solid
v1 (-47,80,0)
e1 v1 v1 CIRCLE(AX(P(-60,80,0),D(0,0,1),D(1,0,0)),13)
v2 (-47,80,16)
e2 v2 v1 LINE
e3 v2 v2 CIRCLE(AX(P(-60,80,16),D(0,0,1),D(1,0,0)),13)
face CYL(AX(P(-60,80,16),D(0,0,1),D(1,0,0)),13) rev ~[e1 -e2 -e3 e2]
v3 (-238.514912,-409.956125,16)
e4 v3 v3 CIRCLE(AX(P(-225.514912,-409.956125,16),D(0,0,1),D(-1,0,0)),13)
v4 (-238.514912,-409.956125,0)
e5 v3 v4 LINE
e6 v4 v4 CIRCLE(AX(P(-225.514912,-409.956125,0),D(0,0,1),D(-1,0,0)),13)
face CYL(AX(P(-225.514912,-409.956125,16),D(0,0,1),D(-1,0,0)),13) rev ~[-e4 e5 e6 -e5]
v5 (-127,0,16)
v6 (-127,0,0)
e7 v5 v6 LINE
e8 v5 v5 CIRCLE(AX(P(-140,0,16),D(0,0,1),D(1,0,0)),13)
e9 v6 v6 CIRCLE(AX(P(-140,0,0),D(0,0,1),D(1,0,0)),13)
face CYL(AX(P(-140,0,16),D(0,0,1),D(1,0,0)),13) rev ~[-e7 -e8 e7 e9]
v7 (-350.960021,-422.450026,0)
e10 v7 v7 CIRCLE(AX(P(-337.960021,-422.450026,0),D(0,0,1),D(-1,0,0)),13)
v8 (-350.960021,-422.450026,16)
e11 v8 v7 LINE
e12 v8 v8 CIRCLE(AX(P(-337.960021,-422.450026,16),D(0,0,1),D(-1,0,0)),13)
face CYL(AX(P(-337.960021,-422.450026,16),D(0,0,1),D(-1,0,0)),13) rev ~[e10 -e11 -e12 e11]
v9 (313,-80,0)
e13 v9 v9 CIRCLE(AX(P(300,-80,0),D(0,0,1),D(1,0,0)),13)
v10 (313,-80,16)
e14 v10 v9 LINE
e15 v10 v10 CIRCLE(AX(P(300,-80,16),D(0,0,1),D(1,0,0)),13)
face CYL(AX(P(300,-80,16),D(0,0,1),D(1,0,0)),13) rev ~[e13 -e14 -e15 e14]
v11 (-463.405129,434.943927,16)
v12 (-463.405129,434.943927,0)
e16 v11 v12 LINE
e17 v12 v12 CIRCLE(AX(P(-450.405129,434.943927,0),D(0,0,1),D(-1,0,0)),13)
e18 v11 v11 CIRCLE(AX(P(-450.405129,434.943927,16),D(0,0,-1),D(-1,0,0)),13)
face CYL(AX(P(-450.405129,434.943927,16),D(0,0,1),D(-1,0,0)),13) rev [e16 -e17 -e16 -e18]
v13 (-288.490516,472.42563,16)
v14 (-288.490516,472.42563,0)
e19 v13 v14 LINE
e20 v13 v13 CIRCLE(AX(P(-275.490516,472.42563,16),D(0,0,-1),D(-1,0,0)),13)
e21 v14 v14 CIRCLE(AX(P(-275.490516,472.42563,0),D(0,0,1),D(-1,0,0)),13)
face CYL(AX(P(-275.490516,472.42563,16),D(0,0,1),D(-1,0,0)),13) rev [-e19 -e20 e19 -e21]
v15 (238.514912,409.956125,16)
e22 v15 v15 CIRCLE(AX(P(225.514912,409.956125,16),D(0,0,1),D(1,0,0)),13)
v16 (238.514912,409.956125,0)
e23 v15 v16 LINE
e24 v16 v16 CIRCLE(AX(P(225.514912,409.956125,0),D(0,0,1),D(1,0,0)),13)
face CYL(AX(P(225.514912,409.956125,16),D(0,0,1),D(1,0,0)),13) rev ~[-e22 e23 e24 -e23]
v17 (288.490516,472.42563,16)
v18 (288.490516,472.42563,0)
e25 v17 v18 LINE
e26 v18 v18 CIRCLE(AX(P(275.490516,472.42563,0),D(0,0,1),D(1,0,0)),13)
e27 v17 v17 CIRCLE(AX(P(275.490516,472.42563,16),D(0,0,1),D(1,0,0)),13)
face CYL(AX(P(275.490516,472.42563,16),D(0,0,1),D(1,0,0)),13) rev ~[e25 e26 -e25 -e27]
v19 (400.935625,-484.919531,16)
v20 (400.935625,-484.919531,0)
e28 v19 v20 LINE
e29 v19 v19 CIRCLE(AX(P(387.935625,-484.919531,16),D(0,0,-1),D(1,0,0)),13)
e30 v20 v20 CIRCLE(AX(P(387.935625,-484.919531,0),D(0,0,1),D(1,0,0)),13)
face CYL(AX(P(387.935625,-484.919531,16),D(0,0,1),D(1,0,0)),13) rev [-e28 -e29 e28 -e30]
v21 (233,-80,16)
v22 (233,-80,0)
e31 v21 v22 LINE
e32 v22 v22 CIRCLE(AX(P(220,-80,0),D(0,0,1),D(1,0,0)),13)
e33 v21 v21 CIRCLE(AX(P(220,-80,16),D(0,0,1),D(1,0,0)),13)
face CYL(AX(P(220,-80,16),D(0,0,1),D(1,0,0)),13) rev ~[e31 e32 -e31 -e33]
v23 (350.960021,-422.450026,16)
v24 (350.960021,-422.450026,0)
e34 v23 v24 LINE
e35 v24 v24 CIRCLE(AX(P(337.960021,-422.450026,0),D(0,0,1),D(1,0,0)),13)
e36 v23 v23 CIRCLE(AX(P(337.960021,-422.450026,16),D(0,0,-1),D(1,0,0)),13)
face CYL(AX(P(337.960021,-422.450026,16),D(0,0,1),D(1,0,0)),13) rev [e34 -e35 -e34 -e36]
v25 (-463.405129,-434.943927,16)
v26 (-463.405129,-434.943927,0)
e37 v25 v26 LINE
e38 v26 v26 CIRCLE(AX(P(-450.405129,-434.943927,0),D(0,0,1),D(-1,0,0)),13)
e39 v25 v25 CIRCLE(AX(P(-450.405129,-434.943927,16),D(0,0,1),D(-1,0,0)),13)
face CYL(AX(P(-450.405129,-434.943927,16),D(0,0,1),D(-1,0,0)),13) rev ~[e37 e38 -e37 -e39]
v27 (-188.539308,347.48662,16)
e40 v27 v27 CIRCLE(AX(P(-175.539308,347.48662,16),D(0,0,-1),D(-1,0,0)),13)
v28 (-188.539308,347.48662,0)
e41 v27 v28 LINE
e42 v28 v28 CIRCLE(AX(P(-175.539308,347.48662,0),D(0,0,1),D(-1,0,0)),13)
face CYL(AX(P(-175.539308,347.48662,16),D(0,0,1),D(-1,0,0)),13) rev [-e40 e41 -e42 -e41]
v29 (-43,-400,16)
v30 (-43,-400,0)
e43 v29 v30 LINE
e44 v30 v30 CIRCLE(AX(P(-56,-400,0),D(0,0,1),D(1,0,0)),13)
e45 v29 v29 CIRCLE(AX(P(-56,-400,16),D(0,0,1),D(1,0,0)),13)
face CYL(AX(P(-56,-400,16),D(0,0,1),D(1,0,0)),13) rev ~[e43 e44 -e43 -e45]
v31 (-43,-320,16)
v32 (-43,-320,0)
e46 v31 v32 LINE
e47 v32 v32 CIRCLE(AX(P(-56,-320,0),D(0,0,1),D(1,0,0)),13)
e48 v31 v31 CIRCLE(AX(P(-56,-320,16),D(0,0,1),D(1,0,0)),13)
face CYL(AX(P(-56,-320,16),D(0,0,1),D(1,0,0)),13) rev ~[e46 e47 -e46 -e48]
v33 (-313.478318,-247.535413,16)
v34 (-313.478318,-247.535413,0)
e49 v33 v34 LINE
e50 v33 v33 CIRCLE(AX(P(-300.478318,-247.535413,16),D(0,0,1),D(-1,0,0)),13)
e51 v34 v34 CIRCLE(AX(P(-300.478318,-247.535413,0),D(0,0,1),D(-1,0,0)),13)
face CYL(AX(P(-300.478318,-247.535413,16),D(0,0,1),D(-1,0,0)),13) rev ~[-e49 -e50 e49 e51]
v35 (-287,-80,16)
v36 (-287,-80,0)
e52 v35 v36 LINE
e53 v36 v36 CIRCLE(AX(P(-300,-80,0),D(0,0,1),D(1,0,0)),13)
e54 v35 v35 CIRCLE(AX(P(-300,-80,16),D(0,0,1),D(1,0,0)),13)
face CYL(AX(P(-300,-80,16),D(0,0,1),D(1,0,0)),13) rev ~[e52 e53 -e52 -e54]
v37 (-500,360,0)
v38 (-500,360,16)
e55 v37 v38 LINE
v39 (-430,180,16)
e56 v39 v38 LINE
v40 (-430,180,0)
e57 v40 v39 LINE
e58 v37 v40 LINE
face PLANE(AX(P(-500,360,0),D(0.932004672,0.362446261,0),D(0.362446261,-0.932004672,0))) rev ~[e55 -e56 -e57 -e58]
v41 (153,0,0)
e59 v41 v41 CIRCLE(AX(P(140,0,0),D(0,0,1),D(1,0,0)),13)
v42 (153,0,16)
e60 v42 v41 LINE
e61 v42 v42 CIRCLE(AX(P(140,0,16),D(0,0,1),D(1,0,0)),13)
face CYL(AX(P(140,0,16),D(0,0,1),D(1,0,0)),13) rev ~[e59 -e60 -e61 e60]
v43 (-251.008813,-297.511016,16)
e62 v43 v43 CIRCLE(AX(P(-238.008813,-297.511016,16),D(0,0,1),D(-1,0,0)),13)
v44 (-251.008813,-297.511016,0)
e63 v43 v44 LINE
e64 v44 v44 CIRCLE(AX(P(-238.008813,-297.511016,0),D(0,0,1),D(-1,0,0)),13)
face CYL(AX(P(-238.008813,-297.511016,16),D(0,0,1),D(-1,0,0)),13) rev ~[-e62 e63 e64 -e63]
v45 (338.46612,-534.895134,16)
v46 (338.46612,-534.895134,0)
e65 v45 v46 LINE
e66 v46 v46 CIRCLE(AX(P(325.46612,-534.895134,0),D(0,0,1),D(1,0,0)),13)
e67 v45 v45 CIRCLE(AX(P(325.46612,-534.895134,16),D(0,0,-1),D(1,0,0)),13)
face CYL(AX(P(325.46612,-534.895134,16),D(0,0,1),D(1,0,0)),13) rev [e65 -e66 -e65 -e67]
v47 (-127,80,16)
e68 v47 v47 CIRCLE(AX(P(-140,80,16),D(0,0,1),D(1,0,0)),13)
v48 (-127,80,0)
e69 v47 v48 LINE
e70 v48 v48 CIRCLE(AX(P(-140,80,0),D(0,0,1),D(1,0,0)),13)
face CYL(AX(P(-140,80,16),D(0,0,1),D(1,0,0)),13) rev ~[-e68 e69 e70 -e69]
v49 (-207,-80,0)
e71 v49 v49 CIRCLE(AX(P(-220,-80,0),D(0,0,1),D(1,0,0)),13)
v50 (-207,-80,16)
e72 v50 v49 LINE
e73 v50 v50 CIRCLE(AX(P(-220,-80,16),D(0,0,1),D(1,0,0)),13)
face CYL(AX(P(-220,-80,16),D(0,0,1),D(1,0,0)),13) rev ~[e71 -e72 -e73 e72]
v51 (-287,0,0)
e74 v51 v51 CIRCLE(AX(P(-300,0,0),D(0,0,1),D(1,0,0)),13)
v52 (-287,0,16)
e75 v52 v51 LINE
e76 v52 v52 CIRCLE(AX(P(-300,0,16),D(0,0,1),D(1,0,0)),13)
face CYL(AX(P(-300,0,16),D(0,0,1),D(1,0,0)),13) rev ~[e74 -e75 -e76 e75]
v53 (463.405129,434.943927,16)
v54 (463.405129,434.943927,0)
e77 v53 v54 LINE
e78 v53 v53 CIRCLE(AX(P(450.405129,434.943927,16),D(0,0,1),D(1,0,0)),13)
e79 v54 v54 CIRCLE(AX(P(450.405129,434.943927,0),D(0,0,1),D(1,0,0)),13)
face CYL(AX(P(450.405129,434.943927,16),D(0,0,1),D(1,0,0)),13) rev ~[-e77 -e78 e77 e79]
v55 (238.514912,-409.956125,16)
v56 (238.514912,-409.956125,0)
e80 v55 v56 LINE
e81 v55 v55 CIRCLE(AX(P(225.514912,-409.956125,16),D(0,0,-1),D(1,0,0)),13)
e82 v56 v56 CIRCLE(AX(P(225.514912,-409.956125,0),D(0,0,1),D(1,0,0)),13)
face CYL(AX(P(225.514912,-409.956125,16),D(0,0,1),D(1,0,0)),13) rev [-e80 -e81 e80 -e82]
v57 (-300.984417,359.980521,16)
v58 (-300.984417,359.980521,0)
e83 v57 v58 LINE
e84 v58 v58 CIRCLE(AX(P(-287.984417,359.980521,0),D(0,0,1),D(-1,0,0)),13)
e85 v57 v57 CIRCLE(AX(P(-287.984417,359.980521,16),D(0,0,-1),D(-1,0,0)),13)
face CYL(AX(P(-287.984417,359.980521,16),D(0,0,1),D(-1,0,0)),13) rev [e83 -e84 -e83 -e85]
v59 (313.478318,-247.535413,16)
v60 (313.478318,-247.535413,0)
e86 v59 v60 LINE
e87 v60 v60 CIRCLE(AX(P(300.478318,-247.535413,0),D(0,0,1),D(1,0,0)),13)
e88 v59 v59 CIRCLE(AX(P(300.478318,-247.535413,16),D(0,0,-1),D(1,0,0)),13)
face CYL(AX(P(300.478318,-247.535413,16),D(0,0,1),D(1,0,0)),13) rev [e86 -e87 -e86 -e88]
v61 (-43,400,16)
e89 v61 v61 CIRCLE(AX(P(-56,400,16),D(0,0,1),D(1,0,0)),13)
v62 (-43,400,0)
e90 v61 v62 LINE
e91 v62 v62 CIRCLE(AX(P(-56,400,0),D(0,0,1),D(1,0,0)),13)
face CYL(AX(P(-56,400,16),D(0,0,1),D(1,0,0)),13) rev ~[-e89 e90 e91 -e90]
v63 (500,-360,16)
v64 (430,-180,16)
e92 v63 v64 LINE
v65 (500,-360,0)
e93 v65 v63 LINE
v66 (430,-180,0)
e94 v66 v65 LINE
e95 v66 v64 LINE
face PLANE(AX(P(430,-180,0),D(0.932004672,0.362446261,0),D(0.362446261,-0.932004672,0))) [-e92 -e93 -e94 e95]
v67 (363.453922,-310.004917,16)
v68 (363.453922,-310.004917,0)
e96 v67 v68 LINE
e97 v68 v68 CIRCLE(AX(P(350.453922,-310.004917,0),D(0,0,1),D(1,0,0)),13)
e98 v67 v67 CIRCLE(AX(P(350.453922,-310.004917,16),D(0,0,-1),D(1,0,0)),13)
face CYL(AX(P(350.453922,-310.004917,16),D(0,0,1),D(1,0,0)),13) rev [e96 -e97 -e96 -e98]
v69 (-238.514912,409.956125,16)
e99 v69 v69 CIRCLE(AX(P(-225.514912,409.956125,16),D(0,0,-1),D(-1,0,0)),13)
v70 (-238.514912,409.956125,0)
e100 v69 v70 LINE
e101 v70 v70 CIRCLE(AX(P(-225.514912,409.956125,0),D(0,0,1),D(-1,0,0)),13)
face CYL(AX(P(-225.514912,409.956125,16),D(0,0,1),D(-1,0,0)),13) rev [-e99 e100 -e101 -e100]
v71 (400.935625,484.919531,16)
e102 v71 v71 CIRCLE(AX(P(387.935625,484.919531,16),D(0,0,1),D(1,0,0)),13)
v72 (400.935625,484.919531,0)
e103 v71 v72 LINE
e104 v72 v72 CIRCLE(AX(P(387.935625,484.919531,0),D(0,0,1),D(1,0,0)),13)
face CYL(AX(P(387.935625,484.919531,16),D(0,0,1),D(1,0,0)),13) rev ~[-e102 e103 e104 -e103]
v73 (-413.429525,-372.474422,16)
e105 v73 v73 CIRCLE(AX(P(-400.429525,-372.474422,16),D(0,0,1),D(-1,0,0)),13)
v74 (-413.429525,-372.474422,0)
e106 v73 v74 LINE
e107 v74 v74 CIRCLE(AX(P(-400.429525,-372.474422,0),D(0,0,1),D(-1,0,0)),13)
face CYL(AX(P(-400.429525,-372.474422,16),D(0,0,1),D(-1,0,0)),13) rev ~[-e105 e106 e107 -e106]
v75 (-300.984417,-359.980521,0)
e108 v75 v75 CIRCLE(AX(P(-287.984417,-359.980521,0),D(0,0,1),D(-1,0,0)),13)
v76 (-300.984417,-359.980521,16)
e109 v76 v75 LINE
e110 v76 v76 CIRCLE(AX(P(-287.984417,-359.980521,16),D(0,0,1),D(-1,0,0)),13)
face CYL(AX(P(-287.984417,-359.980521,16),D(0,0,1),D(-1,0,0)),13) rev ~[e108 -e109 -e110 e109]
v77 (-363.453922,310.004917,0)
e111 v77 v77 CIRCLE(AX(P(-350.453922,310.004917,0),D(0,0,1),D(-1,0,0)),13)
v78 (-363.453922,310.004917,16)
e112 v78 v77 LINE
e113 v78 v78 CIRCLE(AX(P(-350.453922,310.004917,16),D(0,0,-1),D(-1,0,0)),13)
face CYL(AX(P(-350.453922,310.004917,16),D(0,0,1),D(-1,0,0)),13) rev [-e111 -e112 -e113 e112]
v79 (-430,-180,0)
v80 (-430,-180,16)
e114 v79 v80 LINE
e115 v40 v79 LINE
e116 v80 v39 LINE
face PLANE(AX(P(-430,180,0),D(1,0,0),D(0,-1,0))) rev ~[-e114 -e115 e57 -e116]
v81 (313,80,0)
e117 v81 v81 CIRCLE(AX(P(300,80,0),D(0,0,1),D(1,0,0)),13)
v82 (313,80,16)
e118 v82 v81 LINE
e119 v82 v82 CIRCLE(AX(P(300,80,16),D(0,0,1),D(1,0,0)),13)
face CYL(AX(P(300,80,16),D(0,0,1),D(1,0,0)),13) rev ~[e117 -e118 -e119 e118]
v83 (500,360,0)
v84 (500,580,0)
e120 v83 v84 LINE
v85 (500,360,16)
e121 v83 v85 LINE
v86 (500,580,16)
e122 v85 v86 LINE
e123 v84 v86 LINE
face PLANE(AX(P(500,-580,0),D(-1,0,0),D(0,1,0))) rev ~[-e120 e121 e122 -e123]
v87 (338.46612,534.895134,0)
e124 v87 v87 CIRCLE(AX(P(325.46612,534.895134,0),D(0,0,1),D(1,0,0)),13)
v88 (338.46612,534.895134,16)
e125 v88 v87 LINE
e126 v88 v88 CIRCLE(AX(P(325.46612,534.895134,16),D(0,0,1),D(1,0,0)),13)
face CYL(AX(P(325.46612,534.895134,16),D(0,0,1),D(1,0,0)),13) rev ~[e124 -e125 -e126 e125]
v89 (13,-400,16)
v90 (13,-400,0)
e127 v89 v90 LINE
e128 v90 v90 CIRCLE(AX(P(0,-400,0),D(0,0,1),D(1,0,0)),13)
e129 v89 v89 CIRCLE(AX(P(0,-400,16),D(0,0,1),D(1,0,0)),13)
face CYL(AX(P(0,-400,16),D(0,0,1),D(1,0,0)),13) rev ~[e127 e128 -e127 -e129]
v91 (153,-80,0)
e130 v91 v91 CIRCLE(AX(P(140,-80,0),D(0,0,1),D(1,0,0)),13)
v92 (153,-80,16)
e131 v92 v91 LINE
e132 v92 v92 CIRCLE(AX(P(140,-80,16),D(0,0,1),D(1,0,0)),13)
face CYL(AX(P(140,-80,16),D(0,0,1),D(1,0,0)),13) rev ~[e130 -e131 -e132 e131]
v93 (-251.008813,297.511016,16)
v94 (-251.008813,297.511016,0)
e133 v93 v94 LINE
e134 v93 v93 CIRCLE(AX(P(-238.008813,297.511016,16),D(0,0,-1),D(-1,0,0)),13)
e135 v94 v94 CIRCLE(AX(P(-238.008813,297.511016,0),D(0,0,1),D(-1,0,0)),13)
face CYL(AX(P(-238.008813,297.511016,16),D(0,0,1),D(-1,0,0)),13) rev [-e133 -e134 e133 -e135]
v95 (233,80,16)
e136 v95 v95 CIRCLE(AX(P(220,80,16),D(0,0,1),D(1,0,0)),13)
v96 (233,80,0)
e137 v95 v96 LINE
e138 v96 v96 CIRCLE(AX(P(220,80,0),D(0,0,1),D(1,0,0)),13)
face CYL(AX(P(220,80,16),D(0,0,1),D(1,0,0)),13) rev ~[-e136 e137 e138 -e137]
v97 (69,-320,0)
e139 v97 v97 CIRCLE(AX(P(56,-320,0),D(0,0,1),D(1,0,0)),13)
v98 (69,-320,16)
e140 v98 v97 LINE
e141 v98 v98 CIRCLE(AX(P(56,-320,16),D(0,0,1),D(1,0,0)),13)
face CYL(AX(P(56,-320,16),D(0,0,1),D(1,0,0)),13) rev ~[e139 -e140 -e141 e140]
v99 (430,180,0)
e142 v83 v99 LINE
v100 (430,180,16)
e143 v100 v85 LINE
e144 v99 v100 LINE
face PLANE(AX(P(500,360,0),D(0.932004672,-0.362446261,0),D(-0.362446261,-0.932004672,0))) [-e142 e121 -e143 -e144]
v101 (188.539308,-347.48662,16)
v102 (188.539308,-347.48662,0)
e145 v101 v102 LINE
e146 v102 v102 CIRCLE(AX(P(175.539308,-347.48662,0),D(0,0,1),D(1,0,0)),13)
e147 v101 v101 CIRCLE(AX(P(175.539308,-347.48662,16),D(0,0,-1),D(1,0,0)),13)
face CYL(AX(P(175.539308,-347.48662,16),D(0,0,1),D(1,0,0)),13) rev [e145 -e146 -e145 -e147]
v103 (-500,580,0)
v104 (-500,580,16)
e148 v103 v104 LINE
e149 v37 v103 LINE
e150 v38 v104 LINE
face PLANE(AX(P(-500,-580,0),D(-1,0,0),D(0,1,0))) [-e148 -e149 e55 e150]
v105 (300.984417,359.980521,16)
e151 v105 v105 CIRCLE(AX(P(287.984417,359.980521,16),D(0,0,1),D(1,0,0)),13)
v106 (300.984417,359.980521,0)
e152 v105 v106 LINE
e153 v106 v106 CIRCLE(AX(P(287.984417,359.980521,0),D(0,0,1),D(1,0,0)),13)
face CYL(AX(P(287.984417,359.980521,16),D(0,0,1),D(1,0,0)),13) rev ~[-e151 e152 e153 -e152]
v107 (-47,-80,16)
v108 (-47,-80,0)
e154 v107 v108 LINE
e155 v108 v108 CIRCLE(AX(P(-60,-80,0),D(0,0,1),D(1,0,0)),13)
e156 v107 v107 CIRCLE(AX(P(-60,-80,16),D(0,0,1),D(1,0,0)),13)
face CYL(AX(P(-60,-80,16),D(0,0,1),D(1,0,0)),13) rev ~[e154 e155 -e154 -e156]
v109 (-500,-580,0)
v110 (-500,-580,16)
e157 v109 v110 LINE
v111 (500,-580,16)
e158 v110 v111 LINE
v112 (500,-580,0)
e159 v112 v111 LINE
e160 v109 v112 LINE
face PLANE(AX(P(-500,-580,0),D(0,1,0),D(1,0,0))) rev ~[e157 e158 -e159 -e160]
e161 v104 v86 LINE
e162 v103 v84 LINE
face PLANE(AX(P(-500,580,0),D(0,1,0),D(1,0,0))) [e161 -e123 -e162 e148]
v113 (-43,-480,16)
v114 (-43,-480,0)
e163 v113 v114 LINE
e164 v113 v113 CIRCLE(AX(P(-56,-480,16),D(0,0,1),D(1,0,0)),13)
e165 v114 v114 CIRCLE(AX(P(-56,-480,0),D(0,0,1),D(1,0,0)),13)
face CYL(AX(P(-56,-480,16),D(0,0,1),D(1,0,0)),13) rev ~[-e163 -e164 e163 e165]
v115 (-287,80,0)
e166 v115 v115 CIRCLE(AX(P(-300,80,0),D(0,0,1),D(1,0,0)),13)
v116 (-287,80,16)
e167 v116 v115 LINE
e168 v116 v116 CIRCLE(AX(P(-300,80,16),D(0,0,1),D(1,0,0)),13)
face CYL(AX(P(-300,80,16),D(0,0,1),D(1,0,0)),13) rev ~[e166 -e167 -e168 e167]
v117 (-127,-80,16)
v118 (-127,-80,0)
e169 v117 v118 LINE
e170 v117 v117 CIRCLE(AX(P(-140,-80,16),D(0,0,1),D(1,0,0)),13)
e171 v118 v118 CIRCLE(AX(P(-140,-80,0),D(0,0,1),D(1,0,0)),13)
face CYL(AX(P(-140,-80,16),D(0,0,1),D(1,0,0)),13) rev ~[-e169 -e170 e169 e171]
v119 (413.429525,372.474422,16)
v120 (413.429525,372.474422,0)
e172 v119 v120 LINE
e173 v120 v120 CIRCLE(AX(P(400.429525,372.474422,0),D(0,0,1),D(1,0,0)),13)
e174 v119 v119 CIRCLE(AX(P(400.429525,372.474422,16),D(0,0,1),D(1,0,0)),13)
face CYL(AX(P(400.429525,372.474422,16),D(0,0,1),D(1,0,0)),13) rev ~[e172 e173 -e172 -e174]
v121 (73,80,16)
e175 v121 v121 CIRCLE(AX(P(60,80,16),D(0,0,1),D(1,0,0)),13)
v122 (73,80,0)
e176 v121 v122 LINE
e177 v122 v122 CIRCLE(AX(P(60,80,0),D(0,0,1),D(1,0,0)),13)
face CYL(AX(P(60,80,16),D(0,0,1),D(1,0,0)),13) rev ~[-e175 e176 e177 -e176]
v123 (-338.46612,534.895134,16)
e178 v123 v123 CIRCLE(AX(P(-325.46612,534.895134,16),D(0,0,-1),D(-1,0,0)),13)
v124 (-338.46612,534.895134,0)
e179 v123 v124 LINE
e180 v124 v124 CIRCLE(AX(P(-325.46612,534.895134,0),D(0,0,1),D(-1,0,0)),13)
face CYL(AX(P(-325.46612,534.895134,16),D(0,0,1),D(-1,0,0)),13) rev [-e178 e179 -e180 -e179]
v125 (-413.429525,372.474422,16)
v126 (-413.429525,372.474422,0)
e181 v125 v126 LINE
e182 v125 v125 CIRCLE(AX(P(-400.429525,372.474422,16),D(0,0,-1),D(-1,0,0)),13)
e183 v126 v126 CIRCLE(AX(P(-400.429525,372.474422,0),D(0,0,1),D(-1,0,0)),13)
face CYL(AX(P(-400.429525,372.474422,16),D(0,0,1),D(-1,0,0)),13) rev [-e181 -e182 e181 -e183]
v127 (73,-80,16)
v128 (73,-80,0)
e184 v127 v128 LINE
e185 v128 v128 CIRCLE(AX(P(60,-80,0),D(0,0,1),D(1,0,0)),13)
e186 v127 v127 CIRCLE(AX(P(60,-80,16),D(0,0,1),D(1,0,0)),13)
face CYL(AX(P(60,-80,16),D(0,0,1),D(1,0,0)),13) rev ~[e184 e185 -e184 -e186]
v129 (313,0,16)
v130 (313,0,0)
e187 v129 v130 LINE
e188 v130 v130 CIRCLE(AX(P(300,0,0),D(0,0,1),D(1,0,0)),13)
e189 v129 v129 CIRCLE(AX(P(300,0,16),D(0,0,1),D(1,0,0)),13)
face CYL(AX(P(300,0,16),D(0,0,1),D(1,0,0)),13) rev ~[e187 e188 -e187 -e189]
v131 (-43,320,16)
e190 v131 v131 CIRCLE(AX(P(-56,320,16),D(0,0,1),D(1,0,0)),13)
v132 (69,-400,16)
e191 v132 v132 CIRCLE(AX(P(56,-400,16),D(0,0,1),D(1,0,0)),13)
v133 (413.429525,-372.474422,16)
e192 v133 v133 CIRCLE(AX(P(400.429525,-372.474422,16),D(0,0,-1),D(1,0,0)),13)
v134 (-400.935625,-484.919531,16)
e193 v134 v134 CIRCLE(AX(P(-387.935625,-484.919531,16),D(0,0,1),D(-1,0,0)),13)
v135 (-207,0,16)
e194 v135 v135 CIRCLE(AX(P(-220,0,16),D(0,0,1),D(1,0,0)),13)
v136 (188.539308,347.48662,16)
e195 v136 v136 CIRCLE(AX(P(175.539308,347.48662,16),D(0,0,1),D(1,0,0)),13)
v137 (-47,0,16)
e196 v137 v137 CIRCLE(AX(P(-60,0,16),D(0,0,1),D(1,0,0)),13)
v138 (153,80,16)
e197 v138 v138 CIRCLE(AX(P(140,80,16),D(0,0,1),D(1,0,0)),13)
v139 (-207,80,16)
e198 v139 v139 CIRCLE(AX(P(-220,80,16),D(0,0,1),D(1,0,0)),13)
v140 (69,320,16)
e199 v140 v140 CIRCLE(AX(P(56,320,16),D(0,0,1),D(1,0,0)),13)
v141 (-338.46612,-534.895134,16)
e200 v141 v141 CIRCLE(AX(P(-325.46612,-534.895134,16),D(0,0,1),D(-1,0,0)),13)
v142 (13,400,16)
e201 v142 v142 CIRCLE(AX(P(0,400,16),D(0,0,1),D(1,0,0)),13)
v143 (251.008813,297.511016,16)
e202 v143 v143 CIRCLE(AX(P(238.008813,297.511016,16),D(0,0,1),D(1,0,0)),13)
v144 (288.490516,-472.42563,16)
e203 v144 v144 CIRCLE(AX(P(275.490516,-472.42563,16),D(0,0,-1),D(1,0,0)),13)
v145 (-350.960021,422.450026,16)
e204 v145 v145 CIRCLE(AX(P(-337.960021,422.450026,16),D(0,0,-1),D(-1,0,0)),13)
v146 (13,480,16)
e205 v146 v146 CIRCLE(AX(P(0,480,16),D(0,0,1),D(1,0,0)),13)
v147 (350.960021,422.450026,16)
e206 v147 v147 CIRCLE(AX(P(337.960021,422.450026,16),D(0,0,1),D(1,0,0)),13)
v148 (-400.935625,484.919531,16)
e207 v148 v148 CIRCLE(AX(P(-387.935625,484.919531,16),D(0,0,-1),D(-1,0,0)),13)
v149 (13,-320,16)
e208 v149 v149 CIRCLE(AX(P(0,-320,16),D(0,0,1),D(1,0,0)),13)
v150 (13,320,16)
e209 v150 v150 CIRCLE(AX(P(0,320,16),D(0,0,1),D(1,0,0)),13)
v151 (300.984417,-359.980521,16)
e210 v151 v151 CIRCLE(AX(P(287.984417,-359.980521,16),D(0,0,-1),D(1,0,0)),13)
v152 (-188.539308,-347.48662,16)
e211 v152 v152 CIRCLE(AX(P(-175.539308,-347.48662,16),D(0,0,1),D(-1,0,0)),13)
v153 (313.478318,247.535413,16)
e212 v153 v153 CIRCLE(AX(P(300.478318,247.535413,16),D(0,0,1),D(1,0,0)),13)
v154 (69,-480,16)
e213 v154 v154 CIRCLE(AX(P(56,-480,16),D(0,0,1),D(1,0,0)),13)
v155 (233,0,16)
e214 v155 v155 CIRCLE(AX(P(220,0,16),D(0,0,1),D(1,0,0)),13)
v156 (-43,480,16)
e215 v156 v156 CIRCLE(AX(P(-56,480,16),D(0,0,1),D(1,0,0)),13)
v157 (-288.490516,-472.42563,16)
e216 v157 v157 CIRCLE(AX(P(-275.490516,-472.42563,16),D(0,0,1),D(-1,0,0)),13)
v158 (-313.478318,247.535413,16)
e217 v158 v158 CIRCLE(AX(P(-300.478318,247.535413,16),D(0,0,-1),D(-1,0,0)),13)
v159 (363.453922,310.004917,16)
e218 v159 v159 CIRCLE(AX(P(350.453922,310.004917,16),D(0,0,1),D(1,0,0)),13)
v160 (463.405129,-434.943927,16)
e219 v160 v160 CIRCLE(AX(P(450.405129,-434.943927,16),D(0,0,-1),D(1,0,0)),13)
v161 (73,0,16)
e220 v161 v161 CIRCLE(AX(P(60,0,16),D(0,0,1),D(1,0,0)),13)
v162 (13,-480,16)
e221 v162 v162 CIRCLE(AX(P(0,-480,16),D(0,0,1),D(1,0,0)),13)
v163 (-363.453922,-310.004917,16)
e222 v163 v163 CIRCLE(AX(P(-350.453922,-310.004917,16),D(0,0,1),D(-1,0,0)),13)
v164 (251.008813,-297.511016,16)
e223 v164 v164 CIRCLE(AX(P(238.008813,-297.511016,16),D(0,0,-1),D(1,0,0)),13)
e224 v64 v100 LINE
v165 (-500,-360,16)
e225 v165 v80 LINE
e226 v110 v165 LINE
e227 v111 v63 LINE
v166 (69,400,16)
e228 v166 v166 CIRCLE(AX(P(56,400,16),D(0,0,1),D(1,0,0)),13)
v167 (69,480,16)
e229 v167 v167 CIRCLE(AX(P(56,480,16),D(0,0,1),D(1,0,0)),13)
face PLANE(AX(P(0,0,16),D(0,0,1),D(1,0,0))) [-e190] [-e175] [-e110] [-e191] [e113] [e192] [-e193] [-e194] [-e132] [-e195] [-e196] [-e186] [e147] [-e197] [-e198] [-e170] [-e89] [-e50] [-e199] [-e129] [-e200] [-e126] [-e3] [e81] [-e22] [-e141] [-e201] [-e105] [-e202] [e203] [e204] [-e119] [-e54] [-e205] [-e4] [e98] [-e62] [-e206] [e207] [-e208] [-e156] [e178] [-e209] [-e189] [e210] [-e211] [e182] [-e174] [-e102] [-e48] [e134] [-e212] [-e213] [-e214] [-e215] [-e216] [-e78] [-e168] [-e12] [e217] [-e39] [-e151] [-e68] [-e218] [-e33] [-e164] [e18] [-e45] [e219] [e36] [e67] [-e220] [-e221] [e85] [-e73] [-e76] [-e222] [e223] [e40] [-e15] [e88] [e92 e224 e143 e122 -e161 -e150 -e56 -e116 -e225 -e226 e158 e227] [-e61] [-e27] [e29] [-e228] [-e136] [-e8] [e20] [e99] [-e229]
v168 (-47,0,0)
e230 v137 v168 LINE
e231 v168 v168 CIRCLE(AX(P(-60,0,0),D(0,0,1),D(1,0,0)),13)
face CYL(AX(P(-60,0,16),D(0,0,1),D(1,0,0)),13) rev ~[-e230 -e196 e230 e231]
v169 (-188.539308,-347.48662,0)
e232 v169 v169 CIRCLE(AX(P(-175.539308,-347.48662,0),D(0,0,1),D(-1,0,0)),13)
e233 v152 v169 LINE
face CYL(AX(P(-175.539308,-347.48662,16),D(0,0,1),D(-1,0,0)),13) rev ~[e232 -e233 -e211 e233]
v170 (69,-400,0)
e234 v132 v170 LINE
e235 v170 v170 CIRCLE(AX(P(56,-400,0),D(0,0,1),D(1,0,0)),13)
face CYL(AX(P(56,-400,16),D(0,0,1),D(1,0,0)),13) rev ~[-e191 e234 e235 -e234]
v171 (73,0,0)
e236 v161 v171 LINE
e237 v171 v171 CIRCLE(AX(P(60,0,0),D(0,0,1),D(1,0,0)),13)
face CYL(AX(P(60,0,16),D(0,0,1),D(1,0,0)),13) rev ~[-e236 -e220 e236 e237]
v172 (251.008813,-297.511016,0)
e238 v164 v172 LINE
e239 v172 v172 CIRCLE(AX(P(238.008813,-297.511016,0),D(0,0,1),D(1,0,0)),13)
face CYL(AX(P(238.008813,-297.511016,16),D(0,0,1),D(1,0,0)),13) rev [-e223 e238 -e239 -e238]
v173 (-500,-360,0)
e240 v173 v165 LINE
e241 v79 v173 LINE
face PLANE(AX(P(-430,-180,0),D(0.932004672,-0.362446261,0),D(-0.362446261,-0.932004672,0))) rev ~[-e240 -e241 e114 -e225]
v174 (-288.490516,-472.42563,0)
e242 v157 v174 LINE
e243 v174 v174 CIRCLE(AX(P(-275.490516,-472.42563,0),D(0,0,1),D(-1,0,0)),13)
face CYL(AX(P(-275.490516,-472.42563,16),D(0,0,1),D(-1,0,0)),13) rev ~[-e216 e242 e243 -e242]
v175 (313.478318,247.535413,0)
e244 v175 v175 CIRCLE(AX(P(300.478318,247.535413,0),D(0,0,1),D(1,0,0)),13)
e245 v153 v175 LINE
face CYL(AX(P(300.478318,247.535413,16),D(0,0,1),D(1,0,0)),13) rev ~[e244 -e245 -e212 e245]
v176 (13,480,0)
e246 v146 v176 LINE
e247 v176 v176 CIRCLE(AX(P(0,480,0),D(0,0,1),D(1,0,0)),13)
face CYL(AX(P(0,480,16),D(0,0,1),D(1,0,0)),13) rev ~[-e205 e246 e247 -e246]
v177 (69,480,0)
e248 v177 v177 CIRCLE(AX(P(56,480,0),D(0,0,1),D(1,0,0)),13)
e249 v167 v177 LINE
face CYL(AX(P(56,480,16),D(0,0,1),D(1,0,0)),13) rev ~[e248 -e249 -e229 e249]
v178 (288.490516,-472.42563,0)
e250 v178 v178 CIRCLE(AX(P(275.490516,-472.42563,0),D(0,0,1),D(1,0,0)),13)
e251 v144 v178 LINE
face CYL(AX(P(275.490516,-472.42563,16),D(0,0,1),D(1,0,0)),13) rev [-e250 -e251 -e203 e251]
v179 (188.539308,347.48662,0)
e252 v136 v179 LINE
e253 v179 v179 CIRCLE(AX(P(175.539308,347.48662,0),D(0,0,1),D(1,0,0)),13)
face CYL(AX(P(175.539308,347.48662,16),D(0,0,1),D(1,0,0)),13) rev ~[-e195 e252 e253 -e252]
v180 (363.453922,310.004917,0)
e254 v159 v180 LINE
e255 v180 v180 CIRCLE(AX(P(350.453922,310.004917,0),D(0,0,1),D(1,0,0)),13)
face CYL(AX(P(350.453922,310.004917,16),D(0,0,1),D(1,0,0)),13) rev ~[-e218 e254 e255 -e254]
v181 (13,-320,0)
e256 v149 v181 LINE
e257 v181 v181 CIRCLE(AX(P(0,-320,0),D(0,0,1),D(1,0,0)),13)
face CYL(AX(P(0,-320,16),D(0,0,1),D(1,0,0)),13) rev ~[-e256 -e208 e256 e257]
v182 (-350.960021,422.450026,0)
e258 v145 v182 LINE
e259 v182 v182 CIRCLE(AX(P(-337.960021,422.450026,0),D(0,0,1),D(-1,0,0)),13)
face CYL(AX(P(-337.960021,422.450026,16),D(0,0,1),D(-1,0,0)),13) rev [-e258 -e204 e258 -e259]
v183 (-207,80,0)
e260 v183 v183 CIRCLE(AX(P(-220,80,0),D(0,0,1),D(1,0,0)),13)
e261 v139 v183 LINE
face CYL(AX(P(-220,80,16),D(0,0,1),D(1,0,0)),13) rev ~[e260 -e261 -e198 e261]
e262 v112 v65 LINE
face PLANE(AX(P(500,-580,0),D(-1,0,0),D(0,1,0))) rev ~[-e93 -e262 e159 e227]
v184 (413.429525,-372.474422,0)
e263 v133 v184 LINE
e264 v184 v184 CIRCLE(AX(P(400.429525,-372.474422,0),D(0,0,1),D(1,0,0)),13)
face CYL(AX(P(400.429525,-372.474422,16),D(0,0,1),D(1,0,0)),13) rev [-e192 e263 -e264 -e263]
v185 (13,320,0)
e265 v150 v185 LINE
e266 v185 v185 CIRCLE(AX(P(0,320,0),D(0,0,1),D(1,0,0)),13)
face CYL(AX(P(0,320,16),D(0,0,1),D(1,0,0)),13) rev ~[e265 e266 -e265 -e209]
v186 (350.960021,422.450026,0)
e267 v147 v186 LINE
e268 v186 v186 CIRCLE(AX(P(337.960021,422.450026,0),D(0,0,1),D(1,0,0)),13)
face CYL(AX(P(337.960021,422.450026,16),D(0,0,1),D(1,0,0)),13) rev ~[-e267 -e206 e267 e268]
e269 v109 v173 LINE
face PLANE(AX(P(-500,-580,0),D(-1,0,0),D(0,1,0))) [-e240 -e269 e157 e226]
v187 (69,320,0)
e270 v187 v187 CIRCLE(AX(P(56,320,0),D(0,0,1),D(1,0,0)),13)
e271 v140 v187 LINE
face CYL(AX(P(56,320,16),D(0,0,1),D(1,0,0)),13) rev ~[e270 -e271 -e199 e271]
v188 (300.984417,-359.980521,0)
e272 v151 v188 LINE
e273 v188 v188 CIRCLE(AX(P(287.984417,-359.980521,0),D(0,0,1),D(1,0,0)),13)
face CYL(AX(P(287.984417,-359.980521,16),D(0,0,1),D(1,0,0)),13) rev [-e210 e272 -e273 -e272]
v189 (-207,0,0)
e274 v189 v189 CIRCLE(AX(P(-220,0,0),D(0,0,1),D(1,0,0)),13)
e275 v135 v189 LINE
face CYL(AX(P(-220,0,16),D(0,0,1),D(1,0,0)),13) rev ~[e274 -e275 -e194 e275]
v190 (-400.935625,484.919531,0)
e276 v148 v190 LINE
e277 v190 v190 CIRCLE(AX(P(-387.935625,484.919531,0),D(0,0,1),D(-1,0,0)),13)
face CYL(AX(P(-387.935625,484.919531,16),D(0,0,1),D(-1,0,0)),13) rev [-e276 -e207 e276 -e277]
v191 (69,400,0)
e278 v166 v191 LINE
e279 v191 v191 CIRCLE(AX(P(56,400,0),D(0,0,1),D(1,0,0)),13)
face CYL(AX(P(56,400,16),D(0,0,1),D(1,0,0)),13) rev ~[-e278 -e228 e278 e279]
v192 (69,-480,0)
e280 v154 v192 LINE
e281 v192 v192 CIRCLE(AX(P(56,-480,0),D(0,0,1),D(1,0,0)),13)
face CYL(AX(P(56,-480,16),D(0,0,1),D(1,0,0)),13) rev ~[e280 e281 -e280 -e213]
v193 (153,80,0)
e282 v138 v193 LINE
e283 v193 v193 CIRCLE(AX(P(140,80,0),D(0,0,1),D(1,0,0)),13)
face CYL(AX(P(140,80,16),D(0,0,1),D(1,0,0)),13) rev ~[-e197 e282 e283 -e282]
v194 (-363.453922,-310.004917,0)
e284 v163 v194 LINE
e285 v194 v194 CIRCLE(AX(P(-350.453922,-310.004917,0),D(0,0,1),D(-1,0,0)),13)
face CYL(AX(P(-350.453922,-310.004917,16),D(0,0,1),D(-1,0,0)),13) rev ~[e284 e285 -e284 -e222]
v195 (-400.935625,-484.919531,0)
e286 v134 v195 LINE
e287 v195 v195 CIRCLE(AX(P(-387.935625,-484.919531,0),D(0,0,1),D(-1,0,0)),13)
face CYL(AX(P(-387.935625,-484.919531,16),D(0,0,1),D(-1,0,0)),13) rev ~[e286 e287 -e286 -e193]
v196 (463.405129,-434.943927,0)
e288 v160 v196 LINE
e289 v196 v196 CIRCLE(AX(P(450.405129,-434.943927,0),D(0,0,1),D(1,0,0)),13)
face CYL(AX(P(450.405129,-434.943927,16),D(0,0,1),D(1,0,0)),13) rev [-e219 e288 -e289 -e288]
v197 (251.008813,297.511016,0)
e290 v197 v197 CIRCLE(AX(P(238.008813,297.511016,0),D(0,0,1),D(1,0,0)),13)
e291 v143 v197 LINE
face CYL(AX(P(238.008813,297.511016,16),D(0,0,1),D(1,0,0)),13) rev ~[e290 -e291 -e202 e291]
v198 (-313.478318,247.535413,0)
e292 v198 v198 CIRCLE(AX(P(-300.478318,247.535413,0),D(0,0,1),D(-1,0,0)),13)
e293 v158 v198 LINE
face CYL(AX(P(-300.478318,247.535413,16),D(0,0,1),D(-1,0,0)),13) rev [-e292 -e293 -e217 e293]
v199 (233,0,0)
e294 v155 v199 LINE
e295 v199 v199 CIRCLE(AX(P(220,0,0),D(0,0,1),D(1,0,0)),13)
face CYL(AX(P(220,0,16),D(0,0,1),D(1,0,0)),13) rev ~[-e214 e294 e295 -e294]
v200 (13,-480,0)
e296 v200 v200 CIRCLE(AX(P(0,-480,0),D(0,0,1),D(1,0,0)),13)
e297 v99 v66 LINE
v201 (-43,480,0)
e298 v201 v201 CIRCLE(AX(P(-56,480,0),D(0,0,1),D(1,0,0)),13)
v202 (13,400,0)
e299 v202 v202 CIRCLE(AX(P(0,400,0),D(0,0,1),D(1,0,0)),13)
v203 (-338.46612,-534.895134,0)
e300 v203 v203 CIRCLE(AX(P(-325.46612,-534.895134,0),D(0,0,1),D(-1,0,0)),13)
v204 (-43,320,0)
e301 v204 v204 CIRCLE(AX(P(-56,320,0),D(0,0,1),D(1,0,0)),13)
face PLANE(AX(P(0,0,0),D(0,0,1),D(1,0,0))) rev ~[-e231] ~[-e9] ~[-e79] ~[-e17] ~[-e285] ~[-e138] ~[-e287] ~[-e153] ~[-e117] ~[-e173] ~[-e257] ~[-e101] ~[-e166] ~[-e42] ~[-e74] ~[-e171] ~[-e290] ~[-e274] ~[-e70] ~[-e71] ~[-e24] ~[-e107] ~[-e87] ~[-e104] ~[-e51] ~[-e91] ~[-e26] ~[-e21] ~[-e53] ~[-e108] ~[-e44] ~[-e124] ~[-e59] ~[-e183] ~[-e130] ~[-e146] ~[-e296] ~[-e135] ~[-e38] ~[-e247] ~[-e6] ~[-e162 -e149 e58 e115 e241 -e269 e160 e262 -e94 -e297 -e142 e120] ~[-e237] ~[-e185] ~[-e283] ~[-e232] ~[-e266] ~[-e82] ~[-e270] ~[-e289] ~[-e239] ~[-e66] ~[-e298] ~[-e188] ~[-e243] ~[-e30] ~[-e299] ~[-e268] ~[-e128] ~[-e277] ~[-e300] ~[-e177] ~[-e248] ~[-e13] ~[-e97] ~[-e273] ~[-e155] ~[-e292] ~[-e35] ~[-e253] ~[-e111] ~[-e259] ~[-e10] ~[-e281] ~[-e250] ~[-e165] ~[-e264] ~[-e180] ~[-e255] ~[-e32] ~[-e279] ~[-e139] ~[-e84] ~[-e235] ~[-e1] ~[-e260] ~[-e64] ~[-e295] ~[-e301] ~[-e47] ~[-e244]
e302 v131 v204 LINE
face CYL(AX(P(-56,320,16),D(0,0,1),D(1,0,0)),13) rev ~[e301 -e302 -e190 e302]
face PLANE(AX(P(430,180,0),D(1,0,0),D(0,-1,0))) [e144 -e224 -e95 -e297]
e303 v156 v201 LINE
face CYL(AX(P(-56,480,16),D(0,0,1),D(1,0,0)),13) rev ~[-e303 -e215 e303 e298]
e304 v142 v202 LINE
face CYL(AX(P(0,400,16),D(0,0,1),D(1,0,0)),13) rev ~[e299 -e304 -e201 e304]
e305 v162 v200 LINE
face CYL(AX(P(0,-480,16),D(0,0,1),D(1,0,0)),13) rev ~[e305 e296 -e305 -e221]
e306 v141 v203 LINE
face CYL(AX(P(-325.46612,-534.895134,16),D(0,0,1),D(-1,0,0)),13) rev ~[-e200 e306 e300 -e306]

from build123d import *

# Parameters (mm, degrees)
SKETCH_2_W                        = 1000
SKETCH_2_H                        = 1160
EXTRUDE_1_DEPTH                   = 16
CUT_EXTRUDE_1_DEPTH               = 766.934723067
SKETCH_6_R                        = 13
CUT_EXTRUDE_2_DEPTH               = 766.934723067
PATTERN_LINEAR_1_COUNT            = 4
PATTERN_LINEAR_1_PITCH            = 80
PATTERN_LINEAR_1_COUNT_DIR2       = 3
PATTERN_LINEAR_1_PITCH_DIR2       = 80
PATTERN_LINEAR_2_COUNT            = 2
PATTERN_LINEAR_2_PITCH            = 360
PATTERN_LINEAR_2_COPY_1_SKETCH_R  = 13
PATTERN_LINEAR_2_COPY_1_DEPTH     = 766.934723067
PATTERN_LINEAR_2_COPY_2_SKETCH_R  = 13
PATTERN_LINEAR_2_COPY_2_DEPTH     = 766.934723067
PATTERN_LINEAR_2_COPY_3_SKETCH_R  = 13
PATTERN_LINEAR_2_COPY_3_DEPTH     = 766.934723067
PATTERN_LINEAR_2_COPY_4_SKETCH_R  = 13
PATTERN_LINEAR_2_COPY_4_DEPTH     = 766.934723067
PATTERN_LINEAR_2_COPY_5_SKETCH_R  = 13
PATTERN_LINEAR_2_COPY_5_DEPTH     = 766.934723067
PATTERN_LINEAR_2_COPY_6_SKETCH_R  = 13
PATTERN_LINEAR_2_COPY_6_DEPTH     = 766.934723067
PATTERN_LINEAR_2_COPY_7_SKETCH_R  = 13
PATTERN_LINEAR_2_COPY_7_DEPTH     = 766.934723067
PATTERN_LINEAR_2_COPY_8_SKETCH_R  = 13
PATTERN_LINEAR_2_COPY_8_DEPTH     = 766.934723067
PATTERN_LINEAR_2_COPY_9_SKETCH_R  = 13
PATTERN_LINEAR_2_COPY_9_DEPTH     = 766.934723067
PATTERN_LINEAR_2_COPY_10_SKETCH_R = 13
PATTERN_LINEAR_2_COPY_10_DEPTH    = 766.934723067
PATTERN_LINEAR_2_COPY_11_SKETCH_R = 13
PATTERN_LINEAR_2_COPY_11_DEPTH    = 766.934723067
SKETCH_7_R                        = 13
CUT_EXTRUDE_3_DEPTH               = 766.934723067
PATTERN_LINEAR_3_COUNT            = 3
PATTERN_LINEAR_3_PITCH            = 56
PATTERN_LINEAR_3_COUNT_DIR2       = 3
PATTERN_LINEAR_3_PITCH_DIR2       = 80
PATTERN_LINEAR_4_COUNT            = 2
PATTERN_LINEAR_4_PITCH            = 800
PATTERN_LINEAR_4_COPY_1_SKETCH_R  = 13
PATTERN_LINEAR_4_COPY_1_DEPTH     = 766.934723067
PATTERN_LINEAR_4_COPY_2_SKETCH_R  = 13
PATTERN_LINEAR_4_COPY_2_DEPTH     = 766.934723067
PATTERN_LINEAR_4_COPY_3_SKETCH_R  = 13
PATTERN_LINEAR_4_COPY_3_DEPTH     = 766.934723067
PATTERN_LINEAR_4_COPY_4_SKETCH_R  = 13
PATTERN_LINEAR_4_COPY_4_DEPTH     = 766.934723067
PATTERN_LINEAR_4_COPY_5_SKETCH_R  = 13
PATTERN_LINEAR_4_COPY_5_DEPTH     = 766.934723067
PATTERN_LINEAR_4_COPY_6_SKETCH_R  = 13
PATTERN_LINEAR_4_COPY_6_DEPTH     = 766.934723067
PATTERN_LINEAR_4_COPY_7_SKETCH_R  = 13
PATTERN_LINEAR_4_COPY_7_DEPTH     = 766.934723067
PATTERN_LINEAR_4_COPY_8_SKETCH_R  = 13
PATTERN_LINEAR_4_COPY_8_DEPTH     = 766.934723067
SKETCH_8_R                        = 13
CUT_EXTRUDE_4_DEPTH               = 766.934723067
MIRROR_2_COPY_1_SKETCH_R          = 13
MIRROR_2_COPY_1_DEPTH             = 766.934723067


with BuildPart() as part:
    # 草图2 → 凸台-拉伸1 (new body)
    with BuildSketch(Plane.XY):
        Rectangle(SKETCH_2_W, SKETCH_2_H)
    extrude(amount=EXTRUDE_1_DEPTH)

    # 草图4 → 切除-拉伸1 (cut, through all)
    with BuildSketch(Plane(origin=(0, 0, 0), x_dir=(-1, 0, 0), z_dir=(0, 0, -1))):
        Polygon((-500, 360), (-430, 180), (-430, -180), (-500, -360), align=None)
        Polygon((430, 180), (430, -180), (500, -360), (500, 360), align=None)
    extrude(amount=-CUT_EXTRUDE_1_DEPTH, mode=Mode.SUBTRACT)

    # 草图6 → 切除-拉伸2 (cut, through all)
    with BuildSketch(Plane.XY.offset(16)):
        with Locations((-60, 80)):
            Circle(SKETCH_6_R)
    cut_extrude_2 = extrude(amount=-CUT_EXTRUDE_2_DEPTH, mode=Mode.SUBTRACT)

    # 阵列(线性)1: Cut-Extrude 2 4 × 3
    with Locations(*[(-i * PATTERN_LINEAR_1_PITCH, -j * PATTERN_LINEAR_1_PITCH_DIR2, 0) for i in range(PATTERN_LINEAR_1_COUNT) for j in range(PATTERN_LINEAR_1_COUNT_DIR2) if (i, j) != (0, 0)]):
        add(cut_extrude_2, mode=Mode.SUBTRACT)

    # 阵列(线性)2: 切除-拉伸2 ×2
    with Locations(*[(i * PATTERN_LINEAR_2_PITCH, 0, 0) for i in range(1, PATTERN_LINEAR_2_COUNT)]):
        add(cut_extrude_2, mode=Mode.SUBTRACT)

    # 阵列(线性)2 copy 1 sketch → 阵列(线性)2 copy 1 (cut, through all)
    with BuildSketch(Plane(origin=(360, -80, 16), x_dir=(1, 0, 0), z_dir=(0, 0, 1))):
        with Locations((-60, 80)):
            Circle(PATTERN_LINEAR_2_COPY_1_SKETCH_R)
    extrude(amount=-PATTERN_LINEAR_2_COPY_1_DEPTH, mode=Mode.SUBTRACT)

    # 阵列(线性)2 copy 2 sketch → 阵列(线性)2 copy 2 (cut, through all)
    with BuildSketch(Plane(origin=(360, -160, 16), x_dir=(1, 0, 0), z_dir=(0, 0, 1))):
        with Locations((-60, 80)):
            Circle(PATTERN_LINEAR_2_COPY_2_SKETCH_R)
    extrude(amount=-PATTERN_LINEAR_2_COPY_2_DEPTH, mode=Mode.SUBTRACT)

    # 阵列(线性)2 copy 3 sketch → 阵列(线性)2 copy 3 (cut, through all)
    with BuildSketch(Plane(origin=(280, 0, 16), x_dir=(1, 0, 0), z_dir=(0, 0, 1))):
        with Locations((-60, 80)):
            Circle(PATTERN_LINEAR_2_COPY_3_SKETCH_R)
    extrude(amount=-PATTERN_LINEAR_2_COPY_3_DEPTH, mode=Mode.SUBTRACT)

    # 阵列(线性)2 copy 4 sketch → 阵列(线性)2 copy 4 (cut, through all)
    with BuildSketch(Plane(origin=(280, -80, 16), x_dir=(1, 0, 0), z_dir=(0, 0, 1))):
        with Locations((-60, 80)):
            Circle(PATTERN_LINEAR_2_COPY_4_SKETCH_R)
    extrude(amount=-PATTERN_LINEAR_2_COPY_4_DEPTH, mode=Mode.SUBTRACT)

    # 阵列(线性)2 copy 5 sketch → 阵列(线性)2 copy 5 (cut, through all)
    with BuildSketch(Plane(origin=(280, -160, 16), x_dir=(1, 0, 0), z_dir=(0, 0, 1))):
        with Locations((-60, 80)):
            Circle(PATTERN_LINEAR_2_COPY_5_SKETCH_R)
    extrude(amount=-PATTERN_LINEAR_2_COPY_5_DEPTH, mode=Mode.SUBTRACT)

    # 阵列(线性)2 copy 6 sketch → 阵列(线性)2 copy 6 (cut, through all)
    with BuildSketch(Plane(origin=(200, 0, 16), x_dir=(1, 0, 0), z_dir=(0, 0, 1))):
        with Locations((-60, 80)):
            Circle(PATTERN_LINEAR_2_COPY_6_SKETCH_R)
    extrude(amount=-PATTERN_LINEAR_2_COPY_6_DEPTH, mode=Mode.SUBTRACT)

    # 阵列(线性)2 copy 7 sketch → 阵列(线性)2 copy 7 (cut, through all)
    with BuildSketch(Plane(origin=(200, -80, 16), x_dir=(1, 0, 0), z_dir=(0, 0, 1))):
        with Locations((-60, 80)):
            Circle(PATTERN_LINEAR_2_COPY_7_SKETCH_R)
    extrude(amount=-PATTERN_LINEAR_2_COPY_7_DEPTH, mode=Mode.SUBTRACT)

    # 阵列(线性)2 copy 8 sketch → 阵列(线性)2 copy 8 (cut, through all)
    with BuildSketch(Plane(origin=(200, -160, 16), x_dir=(1, 0, 0), z_dir=(0, 0, 1))):
        with Locations((-60, 80)):
            Circle(PATTERN_LINEAR_2_COPY_8_SKETCH_R)
    extrude(amount=-PATTERN_LINEAR_2_COPY_8_DEPTH, mode=Mode.SUBTRACT)

    # 阵列(线性)2 copy 9 sketch → 阵列(线性)2 copy 9 (cut, through all)
    with BuildSketch(Plane(origin=(120, 0, 16), x_dir=(1, 0, 0), z_dir=(0, 0, 1))):
        with Locations((-60, 80)):
            Circle(PATTERN_LINEAR_2_COPY_9_SKETCH_R)
    extrude(amount=-PATTERN_LINEAR_2_COPY_9_DEPTH, mode=Mode.SUBTRACT)

    # 阵列(线性)2 copy 10 sketch → 阵列(线性)2 copy 10 (cut, through all)
    with BuildSketch(Plane(origin=(120, -80, 16), x_dir=(1, 0, 0), z_dir=(0, 0, 1))):
        with Locations((-60, 80)):
            Circle(PATTERN_LINEAR_2_COPY_10_SKETCH_R)
    extrude(amount=-PATTERN_LINEAR_2_COPY_10_DEPTH, mode=Mode.SUBTRACT)

    # 阵列(线性)2 copy 11 sketch → 阵列(线性)2 copy 11 (cut, through all)
    with BuildSketch(Plane(origin=(120, -160, 16), x_dir=(1, 0, 0), z_dir=(0, 0, 1))):
        with Locations((-60, 80)):
            Circle(PATTERN_LINEAR_2_COPY_11_SKETCH_R)
    extrude(amount=-PATTERN_LINEAR_2_COPY_11_DEPTH, mode=Mode.SUBTRACT)

    # 草图7 → 切除-拉伸3 (cut, through all)
    with BuildSketch(Plane.XY.offset(16)):
        with Locations((-56, 480)):
            Circle(SKETCH_7_R)
    cut_extrude_3 = extrude(amount=-CUT_EXTRUDE_3_DEPTH, mode=Mode.SUBTRACT)

    # 阵列(线性)3: Cut-Extrude 3 3 × 3
    with Locations(*[(i * PATTERN_LINEAR_3_PITCH, -j * PATTERN_LINEAR_3_PITCH_DIR2, 0) for i in range(PATTERN_LINEAR_3_COUNT) for j in range(PATTERN_LINEAR_3_COUNT_DIR2) if (i, j) != (0, 0)]):
        add(cut_extrude_3, mode=Mode.SUBTRACT)

    # 阵列(线性)4: 切除-拉伸3 ×2
    with Locations(*[(0, -i * PATTERN_LINEAR_4_PITCH, 0) for i in range(1, PATTERN_LINEAR_4_COUNT)]):
        add(cut_extrude_3, mode=Mode.SUBTRACT)

    # 阵列(线性)4 copy 1 sketch → 阵列(线性)4 copy 1 (cut, through all)
    with BuildSketch(Plane(origin=(0, -880, 16), x_dir=(1, 0, 0), z_dir=(0, 0, 1))):
        with Locations((-56, 480)):
            Circle(PATTERN_LINEAR_4_COPY_1_SKETCH_R)
    extrude(amount=-PATTERN_LINEAR_4_COPY_1_DEPTH, mode=Mode.SUBTRACT)

    # 阵列(线性)4 copy 2 sketch → 阵列(线性)4 copy 2 (cut, through all)
    with BuildSketch(Plane(origin=(0, -960, 16), x_dir=(1, 0, 0), z_dir=(0, 0, 1))):
        with Locations((-56, 480)):
            Circle(PATTERN_LINEAR_4_COPY_2_SKETCH_R)
    extrude(amount=-PATTERN_LINEAR_4_COPY_2_DEPTH, mode=Mode.SUBTRACT)

    # 阵列(线性)4 copy 3 sketch → 阵列(线性)4 copy 3 (cut, through all)
    with BuildSketch(Plane(origin=(56, -800, 16), x_dir=(1, 0, 0), z_dir=(0, 0, 1))):
        with Locations((-56, 480)):
            Circle(PATTERN_LINEAR_4_COPY_3_SKETCH_R)
    extrude(amount=-PATTERN_LINEAR_4_COPY_3_DEPTH, mode=Mode.SUBTRACT)

    # 阵列(线性)4 copy 4 sketch → 阵列(线性)4 copy 4 (cut, through all)
    with BuildSketch(Plane(origin=(56, -880, 16), x_dir=(1, 0, 0), z_dir=(0, 0, 1))):
        with Locations((-56, 480)):
            Circle(PATTERN_LINEAR_4_COPY_4_SKETCH_R)
    extrude(amount=-PATTERN_LINEAR_4_COPY_4_DEPTH, mode=Mode.SUBTRACT)

    # 阵列(线性)4 copy 5 sketch → 阵列(线性)4 copy 5 (cut, through all)
    with BuildSketch(Plane(origin=(56, -960, 16), x_dir=(1, 0, 0), z_dir=(0, 0, 1))):
        with Locations((-56, 480)):
            Circle(PATTERN_LINEAR_4_COPY_5_SKETCH_R)
    extrude(amount=-PATTERN_LINEAR_4_COPY_5_DEPTH, mode=Mode.SUBTRACT)

    # 阵列(线性)4 copy 6 sketch → 阵列(线性)4 copy 6 (cut, through all)
    with BuildSketch(Plane(origin=(112, -800, 16), x_dir=(1, 0, 0), z_dir=(0, 0, 1))):
        with Locations((-56, 480)):
            Circle(PATTERN_LINEAR_4_COPY_6_SKETCH_R)
    extrude(amount=-PATTERN_LINEAR_4_COPY_6_DEPTH, mode=Mode.SUBTRACT)

    # 阵列(线性)4 copy 7 sketch → 阵列(线性)4 copy 7 (cut, through all)
    with BuildSketch(Plane(origin=(112, -880, 16), x_dir=(1, 0, 0), z_dir=(0, 0, 1))):
        with Locations((-56, 480)):
            Circle(PATTERN_LINEAR_4_COPY_7_SKETCH_R)
    extrude(amount=-PATTERN_LINEAR_4_COPY_7_DEPTH, mode=Mode.SUBTRACT)

    # 阵列(线性)4 copy 8 sketch → 阵列(线性)4 copy 8 (cut, through all)
    with BuildSketch(Plane(origin=(112, -960, 16), x_dir=(1, 0, 0), z_dir=(0, 0, 1))):
        with Locations((-56, 480)):
            Circle(PATTERN_LINEAR_4_COPY_8_SKETCH_R)
    extrude(amount=-PATTERN_LINEAR_4_COPY_8_DEPTH, mode=Mode.SUBTRACT)

    # 草图8 → 切除-拉伸4 (cut, through all)
    with BuildSketch(Plane.XY.offset(16)):
        with Locations((175.539308363, 347.486620202)):
            Circle(SKETCH_8_R)
        with Locations((300.478317874, 247.535412593)):
            Circle(SKETCH_8_R)
        with Locations((225.514912167, 409.956124958)):
            Circle(SKETCH_8_R)
        with Locations((275.490515972, 472.425629713)):
            Circle(SKETCH_8_R)
        with Locations((325.466119776, 534.895134468)):
            Circle(SKETCH_8_R)
        with Locations((387.935624531, 484.919530664)):
            Circle(SKETCH_8_R)
        with Locations((337.960020727, 422.450025909)):
            Circle(SKETCH_8_R)
        with Locations((287.984416923, 359.980521153)):
            Circle(SKETCH_8_R)
        with Locations((450.405129287, 434.94392686)):
            Circle(SKETCH_8_R)
        with Locations((400.429525482, 372.474422104)):
            Circle(SKETCH_8_R)
        with Locations((350.453921678, 310.004917349)):
            Circle(SKETCH_8_R)
        with Locations((238.008813118, 297.511016398)):
            Circle(SKETCH_8_R)
    cut_extrude_4 = extrude(amount=-CUT_EXTRUDE_4_DEPTH, mode=Mode.SUBTRACT)

    # 镜向1: 切除-拉伸4 across plane
    add(cut_extrude_4.mirror(Plane(origin=(0, 0, 0), x_dir=(0, 0, 1), z_dir=(1, 0, 0))), mode=Mode.SUBTRACT)

    # 镜向2: 切除-拉伸4 across plane
    add(cut_extrude_4.mirror(Plane.ZX), mode=Mode.SUBTRACT)

    # 镜向2 copy 1 sketch → 镜向2 copy 1 (cut, through all)
    with BuildSketch(Plane(origin=(0, 0, 16), x_dir=(-1, 0, 0), z_dir=(0, 0, 1))):
        with Locations((175.539308363, 347.486620202)):
            Circle(MIRROR_2_COPY_1_SKETCH_R)
        with Locations((300.478317874, 247.535412593)):
            Circle(MIRROR_2_COPY_1_SKETCH_R)
        with Locations((225.514912167, 409.956124958)):
            Circle(MIRROR_2_COPY_1_SKETCH_R)
        with Locations((275.490515972, 472.425629713)):
            Circle(MIRROR_2_COPY_1_SKETCH_R)
        with Locations((325.466119776, 534.895134468)):
            Circle(MIRROR_2_COPY_1_SKETCH_R)
        with Locations((387.935624531, 484.919530664)):
            Circle(MIRROR_2_COPY_1_SKETCH_R)
        with Locations((337.960020727, 422.450025909)):
            Circle(MIRROR_2_COPY_1_SKETCH_R)
        with Locations((287.984416923, 359.980521153)):
            Circle(MIRROR_2_COPY_1_SKETCH_R)
        with Locations((450.405129287, 434.94392686)):
            Circle(MIRROR_2_COPY_1_SKETCH_R)
        with Locations((400.429525482, 372.474422104)):
            Circle(MIRROR_2_COPY_1_SKETCH_R)
        with Locations((350.453921678, 310.004917349)):
            Circle(MIRROR_2_COPY_1_SKETCH_R)
        with Locations((238.008813118, 297.511016398)):
            Circle(MIRROR_2_COPY_1_SKETCH_R)
    extrude(amount=-MIRROR_2_COPY_1_DEPTH, mode=Mode.SUBTRACT)


solid = part.part
